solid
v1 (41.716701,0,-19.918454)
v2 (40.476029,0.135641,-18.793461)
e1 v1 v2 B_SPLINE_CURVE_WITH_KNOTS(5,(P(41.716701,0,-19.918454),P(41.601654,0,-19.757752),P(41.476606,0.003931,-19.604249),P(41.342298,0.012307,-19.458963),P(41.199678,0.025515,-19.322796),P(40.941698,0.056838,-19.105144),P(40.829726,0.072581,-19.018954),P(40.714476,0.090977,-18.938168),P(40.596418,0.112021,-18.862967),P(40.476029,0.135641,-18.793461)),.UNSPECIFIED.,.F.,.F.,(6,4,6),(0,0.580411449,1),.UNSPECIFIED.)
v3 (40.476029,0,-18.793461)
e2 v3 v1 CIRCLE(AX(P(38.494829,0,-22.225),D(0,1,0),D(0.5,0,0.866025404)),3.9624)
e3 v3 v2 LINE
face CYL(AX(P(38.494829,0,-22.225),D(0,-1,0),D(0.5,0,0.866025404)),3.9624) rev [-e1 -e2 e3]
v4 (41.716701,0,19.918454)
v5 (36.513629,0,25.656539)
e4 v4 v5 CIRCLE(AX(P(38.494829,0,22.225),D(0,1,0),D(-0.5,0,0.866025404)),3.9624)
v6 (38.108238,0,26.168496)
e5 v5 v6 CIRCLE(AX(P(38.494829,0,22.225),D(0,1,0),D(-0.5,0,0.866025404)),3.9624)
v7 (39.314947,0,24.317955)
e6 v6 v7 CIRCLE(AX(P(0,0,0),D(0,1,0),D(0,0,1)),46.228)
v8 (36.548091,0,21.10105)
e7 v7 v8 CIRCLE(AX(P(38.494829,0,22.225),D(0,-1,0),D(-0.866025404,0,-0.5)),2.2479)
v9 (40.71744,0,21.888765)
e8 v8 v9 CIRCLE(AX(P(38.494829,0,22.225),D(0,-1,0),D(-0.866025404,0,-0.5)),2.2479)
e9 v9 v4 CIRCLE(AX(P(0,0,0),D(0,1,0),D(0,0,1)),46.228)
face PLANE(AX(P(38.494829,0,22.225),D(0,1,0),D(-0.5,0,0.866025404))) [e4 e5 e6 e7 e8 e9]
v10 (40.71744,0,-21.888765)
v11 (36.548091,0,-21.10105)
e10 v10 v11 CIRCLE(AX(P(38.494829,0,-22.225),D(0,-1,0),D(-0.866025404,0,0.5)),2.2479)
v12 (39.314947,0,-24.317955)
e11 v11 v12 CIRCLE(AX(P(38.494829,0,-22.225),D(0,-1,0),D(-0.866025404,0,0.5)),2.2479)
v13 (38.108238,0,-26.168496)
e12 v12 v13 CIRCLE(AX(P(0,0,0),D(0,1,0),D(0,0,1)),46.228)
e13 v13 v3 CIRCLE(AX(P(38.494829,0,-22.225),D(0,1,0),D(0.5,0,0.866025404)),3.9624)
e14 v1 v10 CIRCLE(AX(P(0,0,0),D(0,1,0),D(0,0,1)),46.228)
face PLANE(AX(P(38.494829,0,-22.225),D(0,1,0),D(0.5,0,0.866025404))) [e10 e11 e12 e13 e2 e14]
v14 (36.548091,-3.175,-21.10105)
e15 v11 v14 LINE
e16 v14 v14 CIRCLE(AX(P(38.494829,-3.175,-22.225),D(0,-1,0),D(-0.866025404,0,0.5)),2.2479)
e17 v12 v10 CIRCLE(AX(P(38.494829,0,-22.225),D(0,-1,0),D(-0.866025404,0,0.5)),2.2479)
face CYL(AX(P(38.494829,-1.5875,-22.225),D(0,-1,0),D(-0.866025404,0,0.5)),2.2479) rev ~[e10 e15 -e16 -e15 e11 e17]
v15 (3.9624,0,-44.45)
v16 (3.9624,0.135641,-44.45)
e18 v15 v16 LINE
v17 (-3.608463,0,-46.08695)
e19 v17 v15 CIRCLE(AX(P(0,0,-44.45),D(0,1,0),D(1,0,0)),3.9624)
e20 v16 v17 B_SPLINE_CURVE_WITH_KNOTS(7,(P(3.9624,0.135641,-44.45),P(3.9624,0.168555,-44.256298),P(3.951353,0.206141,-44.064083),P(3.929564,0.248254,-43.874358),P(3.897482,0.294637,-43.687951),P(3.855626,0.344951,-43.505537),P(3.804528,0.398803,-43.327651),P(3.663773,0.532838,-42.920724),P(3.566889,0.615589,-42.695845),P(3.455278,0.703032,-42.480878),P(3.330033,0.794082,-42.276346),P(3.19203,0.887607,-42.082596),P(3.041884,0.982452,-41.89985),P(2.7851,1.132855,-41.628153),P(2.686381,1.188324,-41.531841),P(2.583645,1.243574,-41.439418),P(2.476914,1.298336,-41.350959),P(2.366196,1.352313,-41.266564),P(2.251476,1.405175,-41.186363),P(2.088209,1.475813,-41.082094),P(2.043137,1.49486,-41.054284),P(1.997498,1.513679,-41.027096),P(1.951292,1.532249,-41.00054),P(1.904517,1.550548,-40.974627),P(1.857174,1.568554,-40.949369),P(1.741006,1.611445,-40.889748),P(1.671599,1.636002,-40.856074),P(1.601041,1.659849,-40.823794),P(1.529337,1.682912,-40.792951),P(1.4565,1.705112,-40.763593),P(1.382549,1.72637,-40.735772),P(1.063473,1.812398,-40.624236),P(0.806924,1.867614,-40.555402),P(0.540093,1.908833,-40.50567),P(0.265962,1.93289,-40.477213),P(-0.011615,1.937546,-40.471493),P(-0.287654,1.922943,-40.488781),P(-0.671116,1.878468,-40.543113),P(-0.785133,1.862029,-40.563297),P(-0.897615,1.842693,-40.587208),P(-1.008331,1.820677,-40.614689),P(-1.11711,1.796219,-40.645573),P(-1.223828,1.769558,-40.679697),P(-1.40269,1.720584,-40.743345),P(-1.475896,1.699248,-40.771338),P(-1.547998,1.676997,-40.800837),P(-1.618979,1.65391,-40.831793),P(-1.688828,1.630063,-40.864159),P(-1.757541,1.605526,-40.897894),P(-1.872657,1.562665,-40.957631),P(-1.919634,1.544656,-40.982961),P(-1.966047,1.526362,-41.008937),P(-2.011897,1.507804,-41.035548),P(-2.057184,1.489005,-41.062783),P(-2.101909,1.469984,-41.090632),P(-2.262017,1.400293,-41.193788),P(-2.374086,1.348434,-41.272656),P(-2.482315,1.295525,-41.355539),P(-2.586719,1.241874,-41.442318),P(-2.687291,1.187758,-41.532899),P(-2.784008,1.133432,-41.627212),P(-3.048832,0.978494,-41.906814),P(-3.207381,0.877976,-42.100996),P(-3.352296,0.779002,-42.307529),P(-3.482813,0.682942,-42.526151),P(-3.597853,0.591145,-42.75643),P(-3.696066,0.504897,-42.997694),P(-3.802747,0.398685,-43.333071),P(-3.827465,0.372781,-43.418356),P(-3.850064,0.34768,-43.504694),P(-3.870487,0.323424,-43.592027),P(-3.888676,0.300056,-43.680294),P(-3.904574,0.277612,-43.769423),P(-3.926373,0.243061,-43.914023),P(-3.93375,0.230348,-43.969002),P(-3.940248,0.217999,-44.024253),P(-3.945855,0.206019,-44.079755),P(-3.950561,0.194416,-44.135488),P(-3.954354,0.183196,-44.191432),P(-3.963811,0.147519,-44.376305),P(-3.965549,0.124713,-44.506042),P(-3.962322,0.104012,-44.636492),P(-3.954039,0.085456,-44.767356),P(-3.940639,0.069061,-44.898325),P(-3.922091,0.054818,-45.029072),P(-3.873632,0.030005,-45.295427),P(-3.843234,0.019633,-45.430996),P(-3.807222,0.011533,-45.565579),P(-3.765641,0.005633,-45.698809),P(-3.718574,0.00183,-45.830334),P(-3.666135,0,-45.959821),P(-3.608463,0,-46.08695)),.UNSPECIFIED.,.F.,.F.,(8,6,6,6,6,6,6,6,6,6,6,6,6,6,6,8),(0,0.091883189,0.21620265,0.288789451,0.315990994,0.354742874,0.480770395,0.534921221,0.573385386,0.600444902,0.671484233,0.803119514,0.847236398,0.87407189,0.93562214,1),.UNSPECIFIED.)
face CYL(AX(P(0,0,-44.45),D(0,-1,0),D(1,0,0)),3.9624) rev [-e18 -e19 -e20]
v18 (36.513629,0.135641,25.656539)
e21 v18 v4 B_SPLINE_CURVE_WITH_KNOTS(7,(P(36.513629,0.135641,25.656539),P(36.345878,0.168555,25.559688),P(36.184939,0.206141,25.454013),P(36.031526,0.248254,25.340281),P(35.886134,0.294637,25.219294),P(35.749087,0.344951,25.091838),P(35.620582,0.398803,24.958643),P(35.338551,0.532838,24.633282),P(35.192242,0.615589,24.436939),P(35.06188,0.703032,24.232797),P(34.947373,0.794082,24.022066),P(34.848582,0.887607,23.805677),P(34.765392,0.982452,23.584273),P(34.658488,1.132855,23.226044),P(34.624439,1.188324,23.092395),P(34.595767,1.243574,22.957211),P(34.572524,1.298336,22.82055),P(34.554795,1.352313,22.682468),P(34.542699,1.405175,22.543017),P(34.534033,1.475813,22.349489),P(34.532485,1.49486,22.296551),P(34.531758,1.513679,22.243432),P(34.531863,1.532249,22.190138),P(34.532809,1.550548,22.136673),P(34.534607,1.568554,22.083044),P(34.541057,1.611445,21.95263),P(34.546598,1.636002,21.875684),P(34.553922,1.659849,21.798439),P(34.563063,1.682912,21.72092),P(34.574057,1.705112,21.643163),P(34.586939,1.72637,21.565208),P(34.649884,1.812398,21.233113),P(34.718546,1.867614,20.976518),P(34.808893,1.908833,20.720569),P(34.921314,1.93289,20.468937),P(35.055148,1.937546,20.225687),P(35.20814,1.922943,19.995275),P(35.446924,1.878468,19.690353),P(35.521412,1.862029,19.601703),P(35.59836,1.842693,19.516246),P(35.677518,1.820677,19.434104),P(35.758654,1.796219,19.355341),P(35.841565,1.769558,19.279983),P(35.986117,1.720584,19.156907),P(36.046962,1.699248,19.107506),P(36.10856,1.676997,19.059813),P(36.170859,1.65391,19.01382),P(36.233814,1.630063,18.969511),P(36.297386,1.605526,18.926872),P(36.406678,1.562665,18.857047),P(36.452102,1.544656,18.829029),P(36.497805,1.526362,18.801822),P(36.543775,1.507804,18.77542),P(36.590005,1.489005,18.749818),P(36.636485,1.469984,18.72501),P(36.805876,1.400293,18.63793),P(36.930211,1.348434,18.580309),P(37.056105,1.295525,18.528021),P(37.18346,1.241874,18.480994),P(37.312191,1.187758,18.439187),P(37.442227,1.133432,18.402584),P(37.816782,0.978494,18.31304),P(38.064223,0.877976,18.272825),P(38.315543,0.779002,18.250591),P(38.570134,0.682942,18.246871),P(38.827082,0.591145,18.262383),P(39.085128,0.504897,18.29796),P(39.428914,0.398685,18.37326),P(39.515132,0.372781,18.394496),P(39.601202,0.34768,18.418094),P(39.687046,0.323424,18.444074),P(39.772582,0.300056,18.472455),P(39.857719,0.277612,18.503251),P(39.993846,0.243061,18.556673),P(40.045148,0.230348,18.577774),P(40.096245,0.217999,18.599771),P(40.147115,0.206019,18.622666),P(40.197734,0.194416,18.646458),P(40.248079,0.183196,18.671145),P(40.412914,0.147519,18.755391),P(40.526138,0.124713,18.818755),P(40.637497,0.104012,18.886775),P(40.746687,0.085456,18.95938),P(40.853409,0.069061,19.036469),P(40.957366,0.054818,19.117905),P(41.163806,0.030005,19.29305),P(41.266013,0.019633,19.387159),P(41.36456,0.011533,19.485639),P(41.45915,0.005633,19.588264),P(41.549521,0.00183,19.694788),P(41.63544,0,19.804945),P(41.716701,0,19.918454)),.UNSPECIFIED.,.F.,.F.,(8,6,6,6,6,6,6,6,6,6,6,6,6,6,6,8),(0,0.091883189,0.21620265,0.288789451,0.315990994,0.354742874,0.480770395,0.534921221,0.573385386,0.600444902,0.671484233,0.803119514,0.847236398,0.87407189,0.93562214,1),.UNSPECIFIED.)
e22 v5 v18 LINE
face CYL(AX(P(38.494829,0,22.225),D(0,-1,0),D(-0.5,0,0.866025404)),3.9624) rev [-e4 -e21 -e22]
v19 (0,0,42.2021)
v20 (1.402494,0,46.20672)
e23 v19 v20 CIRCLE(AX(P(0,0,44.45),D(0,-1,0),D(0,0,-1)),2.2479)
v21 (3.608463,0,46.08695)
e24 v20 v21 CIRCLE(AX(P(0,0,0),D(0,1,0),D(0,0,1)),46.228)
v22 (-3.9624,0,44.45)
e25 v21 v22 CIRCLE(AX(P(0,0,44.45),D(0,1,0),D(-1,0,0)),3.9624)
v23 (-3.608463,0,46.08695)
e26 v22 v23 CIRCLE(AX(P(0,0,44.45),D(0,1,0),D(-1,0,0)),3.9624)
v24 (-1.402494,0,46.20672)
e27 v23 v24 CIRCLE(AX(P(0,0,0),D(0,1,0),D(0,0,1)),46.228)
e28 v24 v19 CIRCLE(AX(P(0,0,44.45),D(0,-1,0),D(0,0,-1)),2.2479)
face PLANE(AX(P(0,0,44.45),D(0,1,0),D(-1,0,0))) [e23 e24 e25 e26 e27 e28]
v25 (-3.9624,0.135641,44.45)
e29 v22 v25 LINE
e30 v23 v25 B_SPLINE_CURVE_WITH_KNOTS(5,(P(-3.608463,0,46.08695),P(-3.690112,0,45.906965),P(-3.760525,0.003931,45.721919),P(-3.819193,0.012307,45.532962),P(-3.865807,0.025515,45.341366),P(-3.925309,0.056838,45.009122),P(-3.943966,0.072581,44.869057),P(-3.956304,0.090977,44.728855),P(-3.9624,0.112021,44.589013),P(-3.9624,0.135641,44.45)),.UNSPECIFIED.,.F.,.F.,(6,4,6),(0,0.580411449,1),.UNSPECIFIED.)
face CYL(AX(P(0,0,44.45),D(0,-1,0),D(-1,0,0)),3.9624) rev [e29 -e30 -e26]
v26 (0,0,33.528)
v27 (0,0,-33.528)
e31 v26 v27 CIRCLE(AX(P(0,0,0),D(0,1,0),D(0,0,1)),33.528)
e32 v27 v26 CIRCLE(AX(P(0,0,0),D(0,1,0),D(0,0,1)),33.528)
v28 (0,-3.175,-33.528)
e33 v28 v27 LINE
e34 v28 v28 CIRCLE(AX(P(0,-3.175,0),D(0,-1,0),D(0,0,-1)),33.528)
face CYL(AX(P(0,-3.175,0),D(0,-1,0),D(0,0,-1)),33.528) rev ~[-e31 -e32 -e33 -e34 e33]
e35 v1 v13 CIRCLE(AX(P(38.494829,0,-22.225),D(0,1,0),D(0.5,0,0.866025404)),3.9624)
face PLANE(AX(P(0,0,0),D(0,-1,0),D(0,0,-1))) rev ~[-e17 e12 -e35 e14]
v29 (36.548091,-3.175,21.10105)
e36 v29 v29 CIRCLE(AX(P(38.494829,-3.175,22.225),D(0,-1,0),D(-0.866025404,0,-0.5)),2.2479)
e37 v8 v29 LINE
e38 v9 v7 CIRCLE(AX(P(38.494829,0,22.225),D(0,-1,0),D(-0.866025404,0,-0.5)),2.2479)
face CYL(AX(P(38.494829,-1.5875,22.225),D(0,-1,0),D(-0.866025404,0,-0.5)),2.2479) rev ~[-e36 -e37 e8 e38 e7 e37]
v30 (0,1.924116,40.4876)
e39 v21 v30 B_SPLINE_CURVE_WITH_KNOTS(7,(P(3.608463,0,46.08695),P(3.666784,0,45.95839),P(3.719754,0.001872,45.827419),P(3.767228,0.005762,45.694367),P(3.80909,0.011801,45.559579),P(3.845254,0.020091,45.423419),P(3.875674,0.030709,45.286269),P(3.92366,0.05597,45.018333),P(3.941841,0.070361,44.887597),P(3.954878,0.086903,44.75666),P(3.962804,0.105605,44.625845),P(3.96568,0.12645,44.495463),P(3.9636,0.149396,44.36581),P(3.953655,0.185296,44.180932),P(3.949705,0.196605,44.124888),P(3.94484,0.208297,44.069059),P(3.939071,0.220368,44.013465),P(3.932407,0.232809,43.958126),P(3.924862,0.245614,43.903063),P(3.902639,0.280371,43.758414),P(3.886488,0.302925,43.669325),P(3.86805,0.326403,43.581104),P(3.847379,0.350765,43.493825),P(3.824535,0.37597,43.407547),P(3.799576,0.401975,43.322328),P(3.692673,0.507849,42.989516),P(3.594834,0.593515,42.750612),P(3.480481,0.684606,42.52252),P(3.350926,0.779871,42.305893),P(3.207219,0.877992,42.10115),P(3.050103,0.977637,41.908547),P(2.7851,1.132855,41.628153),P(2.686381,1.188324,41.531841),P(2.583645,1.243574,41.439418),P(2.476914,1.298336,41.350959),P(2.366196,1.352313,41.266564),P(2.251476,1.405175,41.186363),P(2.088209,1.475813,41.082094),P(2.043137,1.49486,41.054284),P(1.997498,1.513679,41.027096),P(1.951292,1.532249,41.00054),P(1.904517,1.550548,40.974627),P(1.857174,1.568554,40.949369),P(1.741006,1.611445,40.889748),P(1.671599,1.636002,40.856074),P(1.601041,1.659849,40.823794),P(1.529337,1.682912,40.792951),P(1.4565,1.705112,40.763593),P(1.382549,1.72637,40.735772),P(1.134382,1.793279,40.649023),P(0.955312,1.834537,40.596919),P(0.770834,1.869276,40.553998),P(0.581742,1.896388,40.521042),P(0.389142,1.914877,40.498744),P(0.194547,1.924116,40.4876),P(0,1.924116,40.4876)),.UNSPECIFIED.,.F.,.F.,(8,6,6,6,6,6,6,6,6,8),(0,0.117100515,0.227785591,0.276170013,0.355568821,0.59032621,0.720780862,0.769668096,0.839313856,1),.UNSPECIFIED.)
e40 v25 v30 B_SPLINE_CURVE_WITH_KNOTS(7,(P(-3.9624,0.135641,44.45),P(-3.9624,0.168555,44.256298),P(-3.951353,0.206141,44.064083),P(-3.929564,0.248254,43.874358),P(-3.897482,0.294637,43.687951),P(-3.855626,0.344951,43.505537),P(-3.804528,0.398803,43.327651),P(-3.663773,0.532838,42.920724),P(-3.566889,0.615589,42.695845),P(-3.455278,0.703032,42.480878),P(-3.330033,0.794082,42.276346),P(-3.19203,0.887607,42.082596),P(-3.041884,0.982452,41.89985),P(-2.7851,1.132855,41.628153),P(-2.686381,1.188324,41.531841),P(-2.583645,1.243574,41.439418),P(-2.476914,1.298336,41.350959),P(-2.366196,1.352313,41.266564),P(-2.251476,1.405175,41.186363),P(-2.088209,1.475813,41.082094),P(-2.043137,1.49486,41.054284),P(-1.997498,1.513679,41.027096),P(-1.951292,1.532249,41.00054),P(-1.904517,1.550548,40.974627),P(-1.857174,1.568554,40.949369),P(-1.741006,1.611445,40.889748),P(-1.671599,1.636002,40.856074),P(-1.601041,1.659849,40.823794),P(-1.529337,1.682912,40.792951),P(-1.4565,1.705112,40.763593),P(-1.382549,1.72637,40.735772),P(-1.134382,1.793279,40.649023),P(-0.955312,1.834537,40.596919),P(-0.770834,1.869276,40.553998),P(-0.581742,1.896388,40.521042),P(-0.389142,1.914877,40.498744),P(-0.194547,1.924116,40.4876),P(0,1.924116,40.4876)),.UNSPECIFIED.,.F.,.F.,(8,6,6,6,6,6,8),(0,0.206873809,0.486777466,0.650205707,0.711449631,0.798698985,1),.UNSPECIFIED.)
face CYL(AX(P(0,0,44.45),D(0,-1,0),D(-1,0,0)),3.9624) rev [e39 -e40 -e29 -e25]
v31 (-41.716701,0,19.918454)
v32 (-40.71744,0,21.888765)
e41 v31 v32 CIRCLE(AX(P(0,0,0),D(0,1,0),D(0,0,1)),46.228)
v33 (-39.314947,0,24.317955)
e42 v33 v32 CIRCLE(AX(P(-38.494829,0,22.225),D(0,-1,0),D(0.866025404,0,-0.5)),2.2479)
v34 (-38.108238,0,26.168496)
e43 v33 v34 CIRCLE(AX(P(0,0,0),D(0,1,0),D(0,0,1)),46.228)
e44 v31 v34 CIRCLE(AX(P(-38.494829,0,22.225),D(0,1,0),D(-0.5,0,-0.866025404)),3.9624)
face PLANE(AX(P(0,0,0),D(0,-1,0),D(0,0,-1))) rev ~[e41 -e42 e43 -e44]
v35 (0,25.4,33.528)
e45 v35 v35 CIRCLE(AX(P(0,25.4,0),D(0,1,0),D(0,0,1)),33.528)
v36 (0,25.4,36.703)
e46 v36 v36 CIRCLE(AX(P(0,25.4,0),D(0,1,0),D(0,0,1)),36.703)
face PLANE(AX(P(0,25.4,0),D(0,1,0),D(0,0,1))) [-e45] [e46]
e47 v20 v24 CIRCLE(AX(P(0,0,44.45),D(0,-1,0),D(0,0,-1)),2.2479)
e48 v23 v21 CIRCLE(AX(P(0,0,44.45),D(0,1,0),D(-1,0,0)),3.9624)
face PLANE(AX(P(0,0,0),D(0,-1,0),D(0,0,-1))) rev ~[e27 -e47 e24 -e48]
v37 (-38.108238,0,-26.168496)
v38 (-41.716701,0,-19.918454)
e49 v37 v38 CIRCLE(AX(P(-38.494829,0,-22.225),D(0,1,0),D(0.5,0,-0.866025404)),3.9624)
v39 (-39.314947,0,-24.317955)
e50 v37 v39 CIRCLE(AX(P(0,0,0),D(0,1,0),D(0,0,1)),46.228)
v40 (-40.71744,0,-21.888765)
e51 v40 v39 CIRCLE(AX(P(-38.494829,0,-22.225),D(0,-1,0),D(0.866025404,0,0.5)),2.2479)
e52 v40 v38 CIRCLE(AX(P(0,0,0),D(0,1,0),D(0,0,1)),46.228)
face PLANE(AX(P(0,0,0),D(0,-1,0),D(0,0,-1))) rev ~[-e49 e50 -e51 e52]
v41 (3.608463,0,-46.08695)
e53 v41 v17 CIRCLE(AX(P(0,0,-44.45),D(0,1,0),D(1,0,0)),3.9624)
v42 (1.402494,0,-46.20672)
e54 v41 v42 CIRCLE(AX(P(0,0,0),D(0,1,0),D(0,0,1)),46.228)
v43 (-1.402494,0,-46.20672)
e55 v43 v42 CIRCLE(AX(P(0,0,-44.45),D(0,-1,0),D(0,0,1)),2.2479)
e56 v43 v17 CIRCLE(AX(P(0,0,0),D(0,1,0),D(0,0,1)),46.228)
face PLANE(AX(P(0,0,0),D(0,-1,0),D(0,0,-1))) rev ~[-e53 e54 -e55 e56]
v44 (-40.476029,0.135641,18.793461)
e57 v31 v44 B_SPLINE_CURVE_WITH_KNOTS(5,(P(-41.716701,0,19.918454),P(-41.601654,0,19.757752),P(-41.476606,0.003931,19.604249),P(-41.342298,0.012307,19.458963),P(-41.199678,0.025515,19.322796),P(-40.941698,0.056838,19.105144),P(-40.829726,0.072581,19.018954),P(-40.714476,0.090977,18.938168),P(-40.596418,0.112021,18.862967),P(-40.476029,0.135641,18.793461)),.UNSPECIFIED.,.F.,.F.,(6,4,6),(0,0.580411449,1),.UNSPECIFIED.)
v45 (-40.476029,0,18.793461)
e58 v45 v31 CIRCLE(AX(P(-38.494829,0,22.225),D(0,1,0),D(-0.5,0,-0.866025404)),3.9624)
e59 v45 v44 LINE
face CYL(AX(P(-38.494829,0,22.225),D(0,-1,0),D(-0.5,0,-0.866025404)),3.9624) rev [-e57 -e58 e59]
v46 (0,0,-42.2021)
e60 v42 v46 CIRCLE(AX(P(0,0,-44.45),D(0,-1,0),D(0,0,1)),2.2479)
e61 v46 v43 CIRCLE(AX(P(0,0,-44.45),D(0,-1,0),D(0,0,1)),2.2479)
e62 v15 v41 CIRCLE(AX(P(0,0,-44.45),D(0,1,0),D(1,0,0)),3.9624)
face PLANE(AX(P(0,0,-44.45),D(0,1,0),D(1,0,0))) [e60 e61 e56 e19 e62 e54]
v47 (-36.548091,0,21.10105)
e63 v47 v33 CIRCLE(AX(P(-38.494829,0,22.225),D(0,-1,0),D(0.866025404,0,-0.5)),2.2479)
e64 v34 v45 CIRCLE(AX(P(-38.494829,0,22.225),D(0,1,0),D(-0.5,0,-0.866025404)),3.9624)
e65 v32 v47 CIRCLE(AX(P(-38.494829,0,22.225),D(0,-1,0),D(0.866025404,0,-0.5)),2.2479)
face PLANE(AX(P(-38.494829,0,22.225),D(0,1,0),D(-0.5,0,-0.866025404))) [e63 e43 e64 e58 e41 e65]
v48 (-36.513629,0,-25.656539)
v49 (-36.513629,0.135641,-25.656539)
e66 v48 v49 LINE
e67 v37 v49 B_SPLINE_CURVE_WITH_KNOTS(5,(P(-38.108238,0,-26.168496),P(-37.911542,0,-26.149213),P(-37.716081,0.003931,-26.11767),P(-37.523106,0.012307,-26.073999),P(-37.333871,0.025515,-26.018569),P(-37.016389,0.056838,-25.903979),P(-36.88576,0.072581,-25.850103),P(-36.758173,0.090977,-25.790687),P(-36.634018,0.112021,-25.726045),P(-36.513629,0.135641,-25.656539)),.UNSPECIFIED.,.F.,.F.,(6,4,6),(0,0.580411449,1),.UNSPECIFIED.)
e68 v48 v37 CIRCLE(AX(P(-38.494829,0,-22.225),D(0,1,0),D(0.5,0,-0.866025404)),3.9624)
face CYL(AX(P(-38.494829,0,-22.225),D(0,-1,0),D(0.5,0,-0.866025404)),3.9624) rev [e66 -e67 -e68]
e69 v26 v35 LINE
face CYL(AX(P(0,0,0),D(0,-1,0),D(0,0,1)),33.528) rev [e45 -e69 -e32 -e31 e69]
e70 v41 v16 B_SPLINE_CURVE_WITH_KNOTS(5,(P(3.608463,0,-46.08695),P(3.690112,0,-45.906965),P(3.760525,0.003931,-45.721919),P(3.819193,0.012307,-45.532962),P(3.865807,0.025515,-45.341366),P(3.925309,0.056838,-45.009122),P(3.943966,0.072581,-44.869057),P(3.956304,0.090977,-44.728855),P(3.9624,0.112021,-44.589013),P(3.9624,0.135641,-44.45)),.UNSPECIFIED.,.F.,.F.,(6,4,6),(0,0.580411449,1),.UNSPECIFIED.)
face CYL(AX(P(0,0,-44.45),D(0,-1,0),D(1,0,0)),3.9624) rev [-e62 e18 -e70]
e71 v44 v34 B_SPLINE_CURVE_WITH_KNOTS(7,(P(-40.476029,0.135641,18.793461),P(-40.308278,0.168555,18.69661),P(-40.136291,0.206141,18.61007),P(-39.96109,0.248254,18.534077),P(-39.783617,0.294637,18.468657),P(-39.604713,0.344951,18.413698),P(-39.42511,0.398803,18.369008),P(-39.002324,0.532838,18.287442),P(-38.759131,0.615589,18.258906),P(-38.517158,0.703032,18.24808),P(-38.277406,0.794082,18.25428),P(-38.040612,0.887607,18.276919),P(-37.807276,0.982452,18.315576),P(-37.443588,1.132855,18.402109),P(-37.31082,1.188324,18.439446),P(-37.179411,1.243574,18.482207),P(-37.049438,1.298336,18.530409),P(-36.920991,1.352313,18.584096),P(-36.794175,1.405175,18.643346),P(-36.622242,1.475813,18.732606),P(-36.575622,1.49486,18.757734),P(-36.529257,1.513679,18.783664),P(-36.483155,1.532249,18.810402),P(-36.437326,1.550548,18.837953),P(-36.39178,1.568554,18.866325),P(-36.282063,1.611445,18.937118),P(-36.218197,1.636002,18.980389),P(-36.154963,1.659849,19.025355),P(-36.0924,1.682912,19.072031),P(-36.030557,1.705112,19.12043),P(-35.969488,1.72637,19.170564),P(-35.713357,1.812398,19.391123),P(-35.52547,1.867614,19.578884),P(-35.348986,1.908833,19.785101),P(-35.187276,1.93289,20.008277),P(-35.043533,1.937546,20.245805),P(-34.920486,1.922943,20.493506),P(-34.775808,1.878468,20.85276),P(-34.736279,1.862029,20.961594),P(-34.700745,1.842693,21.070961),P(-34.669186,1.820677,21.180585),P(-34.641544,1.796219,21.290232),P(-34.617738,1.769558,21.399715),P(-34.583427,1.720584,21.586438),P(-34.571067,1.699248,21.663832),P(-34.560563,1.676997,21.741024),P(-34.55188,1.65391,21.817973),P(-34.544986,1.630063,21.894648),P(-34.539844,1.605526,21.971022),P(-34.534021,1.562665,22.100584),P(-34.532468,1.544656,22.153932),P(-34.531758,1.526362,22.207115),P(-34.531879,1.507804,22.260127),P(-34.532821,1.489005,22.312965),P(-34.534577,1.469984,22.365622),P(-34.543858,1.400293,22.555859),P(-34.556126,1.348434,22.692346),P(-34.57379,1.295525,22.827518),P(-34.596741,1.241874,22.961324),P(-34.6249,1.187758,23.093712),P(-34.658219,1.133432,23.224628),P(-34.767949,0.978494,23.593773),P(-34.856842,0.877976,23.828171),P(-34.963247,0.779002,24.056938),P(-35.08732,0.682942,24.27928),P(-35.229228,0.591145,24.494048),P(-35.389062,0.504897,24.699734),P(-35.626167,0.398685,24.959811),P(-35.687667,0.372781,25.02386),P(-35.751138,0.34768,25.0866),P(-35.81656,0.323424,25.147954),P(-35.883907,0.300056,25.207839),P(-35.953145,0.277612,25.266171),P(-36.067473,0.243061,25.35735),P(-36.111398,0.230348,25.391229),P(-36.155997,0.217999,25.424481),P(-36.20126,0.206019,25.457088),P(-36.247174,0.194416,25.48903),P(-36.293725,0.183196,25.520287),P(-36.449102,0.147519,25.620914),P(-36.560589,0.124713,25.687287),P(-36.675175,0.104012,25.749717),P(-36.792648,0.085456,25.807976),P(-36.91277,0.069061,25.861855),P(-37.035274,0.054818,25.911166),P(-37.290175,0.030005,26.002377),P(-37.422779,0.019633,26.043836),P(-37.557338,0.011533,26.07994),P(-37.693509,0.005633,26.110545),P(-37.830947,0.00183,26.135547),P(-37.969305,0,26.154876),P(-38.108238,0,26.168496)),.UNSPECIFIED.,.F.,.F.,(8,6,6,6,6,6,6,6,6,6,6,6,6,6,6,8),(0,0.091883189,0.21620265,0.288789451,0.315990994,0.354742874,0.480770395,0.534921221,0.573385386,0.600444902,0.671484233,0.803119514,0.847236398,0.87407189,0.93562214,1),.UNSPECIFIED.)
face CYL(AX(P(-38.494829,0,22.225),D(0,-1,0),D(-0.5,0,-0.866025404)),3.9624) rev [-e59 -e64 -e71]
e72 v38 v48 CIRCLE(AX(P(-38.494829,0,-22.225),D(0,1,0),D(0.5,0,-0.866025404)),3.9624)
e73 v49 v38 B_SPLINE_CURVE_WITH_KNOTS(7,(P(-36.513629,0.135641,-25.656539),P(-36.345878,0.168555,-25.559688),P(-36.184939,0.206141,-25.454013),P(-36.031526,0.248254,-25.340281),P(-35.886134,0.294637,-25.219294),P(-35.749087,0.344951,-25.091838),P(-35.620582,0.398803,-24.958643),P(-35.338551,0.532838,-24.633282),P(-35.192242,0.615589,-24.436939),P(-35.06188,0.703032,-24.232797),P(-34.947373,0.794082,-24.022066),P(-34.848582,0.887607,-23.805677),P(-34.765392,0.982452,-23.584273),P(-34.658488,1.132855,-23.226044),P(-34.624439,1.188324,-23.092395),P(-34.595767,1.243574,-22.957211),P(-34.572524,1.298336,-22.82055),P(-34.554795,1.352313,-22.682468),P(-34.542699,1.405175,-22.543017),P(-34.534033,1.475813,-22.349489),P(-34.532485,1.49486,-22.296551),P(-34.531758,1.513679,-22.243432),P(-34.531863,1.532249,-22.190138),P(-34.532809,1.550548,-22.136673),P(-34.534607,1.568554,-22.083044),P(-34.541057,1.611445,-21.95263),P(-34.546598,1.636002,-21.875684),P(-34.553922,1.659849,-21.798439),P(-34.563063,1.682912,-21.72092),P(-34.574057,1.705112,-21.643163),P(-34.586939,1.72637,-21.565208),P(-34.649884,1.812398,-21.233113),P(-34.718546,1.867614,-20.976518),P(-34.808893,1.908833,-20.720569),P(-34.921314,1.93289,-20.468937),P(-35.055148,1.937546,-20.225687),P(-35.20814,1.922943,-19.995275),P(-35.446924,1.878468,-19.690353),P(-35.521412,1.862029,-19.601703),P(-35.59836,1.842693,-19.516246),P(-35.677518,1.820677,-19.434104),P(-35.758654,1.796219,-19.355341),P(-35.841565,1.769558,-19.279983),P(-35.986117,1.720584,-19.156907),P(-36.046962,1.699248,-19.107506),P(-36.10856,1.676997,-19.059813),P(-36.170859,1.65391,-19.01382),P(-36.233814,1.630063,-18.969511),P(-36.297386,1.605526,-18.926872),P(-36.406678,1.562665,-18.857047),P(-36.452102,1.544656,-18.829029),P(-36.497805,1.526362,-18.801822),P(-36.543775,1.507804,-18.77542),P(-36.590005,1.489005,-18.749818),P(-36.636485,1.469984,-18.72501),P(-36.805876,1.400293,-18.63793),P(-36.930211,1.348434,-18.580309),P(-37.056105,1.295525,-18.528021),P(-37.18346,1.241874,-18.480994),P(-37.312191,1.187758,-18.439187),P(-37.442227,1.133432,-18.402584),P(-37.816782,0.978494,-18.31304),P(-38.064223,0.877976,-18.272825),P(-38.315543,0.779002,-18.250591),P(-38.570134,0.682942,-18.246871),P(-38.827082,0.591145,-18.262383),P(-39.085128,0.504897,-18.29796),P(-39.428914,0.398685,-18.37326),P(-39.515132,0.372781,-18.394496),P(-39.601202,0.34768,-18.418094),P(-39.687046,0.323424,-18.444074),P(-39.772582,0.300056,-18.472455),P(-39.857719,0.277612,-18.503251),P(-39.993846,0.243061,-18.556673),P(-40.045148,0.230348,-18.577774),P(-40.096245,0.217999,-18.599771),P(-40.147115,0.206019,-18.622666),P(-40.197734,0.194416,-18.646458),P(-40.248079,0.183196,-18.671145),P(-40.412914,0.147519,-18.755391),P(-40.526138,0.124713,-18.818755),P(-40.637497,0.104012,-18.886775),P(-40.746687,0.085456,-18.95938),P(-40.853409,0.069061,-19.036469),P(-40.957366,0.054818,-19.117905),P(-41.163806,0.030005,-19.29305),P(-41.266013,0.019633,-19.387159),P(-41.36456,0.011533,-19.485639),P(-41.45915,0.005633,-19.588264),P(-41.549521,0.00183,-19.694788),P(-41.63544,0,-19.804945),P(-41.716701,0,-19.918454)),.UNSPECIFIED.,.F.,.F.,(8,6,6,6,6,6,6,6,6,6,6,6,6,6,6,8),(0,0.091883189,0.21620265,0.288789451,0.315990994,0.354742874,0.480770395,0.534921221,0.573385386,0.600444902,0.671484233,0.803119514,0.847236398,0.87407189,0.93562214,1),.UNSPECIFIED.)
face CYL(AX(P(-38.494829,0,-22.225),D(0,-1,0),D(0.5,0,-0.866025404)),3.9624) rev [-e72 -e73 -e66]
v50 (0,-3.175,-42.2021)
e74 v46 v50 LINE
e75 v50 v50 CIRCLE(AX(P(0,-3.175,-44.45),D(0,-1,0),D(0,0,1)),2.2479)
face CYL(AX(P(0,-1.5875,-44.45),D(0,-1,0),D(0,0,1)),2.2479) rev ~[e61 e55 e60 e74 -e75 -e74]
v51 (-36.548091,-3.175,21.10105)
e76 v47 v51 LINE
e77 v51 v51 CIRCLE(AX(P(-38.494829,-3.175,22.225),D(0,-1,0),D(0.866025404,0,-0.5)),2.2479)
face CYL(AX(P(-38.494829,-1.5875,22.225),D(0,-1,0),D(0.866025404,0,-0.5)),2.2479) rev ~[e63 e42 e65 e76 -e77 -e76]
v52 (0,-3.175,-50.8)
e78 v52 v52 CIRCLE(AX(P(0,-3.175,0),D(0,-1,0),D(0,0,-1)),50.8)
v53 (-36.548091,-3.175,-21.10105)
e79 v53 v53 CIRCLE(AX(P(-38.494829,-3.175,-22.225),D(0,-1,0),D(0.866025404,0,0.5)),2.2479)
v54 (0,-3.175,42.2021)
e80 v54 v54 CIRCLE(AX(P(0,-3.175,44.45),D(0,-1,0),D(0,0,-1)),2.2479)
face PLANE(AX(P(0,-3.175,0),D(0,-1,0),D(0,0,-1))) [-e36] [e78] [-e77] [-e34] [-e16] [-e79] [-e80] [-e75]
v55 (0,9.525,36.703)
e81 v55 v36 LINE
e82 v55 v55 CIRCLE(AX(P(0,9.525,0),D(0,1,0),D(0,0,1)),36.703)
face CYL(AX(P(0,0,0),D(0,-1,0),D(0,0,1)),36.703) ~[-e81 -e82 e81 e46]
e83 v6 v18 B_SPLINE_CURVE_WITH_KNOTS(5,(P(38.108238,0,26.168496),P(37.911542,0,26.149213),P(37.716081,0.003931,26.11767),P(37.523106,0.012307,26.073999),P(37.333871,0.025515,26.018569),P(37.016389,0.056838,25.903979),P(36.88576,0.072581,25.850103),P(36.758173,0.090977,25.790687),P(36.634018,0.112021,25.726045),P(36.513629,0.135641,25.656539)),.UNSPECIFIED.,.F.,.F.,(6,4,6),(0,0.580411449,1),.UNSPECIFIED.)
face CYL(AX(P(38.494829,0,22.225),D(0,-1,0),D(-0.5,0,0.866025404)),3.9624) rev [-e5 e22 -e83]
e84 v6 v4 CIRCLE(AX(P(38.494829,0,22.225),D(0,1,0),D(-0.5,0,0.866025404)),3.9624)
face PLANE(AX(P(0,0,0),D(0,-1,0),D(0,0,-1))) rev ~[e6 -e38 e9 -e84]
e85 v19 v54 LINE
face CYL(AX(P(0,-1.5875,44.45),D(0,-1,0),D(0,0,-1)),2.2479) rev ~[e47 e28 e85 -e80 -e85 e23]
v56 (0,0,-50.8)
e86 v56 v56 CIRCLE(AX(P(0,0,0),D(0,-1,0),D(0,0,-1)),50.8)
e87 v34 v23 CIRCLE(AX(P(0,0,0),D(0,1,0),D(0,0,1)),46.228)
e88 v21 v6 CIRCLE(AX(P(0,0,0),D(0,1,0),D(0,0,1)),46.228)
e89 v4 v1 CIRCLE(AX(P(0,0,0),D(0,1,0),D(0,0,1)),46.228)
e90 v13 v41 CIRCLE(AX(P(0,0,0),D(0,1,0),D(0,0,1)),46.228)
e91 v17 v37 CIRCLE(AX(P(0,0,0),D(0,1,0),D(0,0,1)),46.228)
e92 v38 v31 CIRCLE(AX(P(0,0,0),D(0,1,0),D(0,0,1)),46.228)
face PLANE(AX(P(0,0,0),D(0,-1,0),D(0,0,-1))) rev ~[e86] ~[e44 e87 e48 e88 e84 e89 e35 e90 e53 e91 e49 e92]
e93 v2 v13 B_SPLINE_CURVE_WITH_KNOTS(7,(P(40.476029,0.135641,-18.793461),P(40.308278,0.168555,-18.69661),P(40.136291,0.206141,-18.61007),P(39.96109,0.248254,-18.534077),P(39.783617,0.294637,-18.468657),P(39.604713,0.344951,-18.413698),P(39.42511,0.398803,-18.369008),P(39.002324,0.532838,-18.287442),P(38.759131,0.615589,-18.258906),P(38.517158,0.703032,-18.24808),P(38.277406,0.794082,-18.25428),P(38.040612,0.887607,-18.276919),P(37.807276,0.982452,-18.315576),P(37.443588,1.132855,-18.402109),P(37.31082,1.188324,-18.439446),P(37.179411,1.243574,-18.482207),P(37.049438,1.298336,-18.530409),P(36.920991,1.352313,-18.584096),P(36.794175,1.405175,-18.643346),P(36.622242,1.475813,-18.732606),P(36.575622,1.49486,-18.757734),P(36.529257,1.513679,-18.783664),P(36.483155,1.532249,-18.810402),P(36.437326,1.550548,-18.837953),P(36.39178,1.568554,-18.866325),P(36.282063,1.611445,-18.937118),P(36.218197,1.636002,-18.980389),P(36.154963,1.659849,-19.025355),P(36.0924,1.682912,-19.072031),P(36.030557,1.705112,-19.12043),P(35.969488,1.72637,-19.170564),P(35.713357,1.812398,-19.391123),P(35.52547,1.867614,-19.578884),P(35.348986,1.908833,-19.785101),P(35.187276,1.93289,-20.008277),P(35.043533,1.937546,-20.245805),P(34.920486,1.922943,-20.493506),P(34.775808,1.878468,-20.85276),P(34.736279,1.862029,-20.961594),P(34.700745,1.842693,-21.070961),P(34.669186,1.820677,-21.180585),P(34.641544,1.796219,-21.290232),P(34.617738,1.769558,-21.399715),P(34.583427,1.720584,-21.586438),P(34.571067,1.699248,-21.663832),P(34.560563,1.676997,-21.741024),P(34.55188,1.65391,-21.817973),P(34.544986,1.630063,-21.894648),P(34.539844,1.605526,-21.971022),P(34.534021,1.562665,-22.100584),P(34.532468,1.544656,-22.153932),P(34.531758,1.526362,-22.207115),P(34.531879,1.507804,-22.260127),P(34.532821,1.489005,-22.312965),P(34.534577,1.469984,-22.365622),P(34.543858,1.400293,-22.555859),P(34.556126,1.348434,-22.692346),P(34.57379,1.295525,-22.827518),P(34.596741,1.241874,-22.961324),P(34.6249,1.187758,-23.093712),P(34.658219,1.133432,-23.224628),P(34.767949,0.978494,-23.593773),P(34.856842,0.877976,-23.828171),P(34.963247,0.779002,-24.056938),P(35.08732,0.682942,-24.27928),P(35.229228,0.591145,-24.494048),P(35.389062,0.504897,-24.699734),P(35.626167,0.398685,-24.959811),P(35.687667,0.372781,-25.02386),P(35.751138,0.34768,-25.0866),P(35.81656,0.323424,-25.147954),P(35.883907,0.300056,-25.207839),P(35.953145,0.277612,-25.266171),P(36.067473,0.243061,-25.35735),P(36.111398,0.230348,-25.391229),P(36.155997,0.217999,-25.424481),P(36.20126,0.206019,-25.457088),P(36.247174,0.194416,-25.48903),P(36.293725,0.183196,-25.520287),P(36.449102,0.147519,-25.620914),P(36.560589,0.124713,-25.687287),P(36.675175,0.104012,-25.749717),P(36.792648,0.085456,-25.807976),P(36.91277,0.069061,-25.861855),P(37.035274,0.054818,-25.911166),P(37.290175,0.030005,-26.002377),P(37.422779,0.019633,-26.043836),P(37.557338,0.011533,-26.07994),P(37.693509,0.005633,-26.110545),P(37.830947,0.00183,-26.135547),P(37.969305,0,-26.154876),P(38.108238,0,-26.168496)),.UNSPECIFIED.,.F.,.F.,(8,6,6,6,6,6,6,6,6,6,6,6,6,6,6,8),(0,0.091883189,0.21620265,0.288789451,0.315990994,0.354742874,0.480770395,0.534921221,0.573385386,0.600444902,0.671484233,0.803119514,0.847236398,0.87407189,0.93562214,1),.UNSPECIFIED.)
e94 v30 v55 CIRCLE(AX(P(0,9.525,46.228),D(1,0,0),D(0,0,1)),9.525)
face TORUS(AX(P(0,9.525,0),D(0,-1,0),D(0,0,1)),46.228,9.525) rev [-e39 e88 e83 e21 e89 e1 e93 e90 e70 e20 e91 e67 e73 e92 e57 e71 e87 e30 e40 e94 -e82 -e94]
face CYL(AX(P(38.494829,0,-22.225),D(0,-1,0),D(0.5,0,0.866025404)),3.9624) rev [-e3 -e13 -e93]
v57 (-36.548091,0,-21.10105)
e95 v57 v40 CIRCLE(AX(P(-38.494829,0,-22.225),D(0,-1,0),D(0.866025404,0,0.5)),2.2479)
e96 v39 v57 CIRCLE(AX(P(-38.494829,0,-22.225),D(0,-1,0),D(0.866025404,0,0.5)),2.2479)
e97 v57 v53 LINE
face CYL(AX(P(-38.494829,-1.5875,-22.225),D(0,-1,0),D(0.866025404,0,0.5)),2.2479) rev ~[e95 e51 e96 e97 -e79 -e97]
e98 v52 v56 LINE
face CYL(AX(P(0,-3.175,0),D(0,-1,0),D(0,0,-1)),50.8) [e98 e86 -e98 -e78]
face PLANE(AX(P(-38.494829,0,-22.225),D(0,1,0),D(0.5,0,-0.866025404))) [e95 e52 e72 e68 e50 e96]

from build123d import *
from build123d.topology import SkipClean

# Parameters (mm, degrees)
SKETCH1_R           = 36.703
SKETCH1_R_2         = 33.528
BOSS_EXTRUDE1_DEPTH = 25.4
BOSS_EXTRUDE2_START = 3.175
SKETCH2_R           = 50.8
SKETCH2_R_2         = 33.528
BOSS_EXTRUDE2_DEPTH = 3.175
FILLET1_R           = 9.525
SKETCH5_W           = 2.2479
SKETCH5_H           = 3.175
CIRPATTERN1_COUNT   = 6
SKETCH6_R           = 3.9624
CUT_EXTRUDE1_DEPTH  = 52.07
CIRPATTERN2_COUNT   = 6


with BuildPart() as part:
    # Sketch1 → Boss-Extrude1 (new body)
    with BuildSketch(Plane(origin=(0, 0, 0), x_dir=(1, 0, 0), z_dir=(0, 1, 0))):
        with Locations(Location((0, 0, 0), (0, 0, 270))):
            Circle(SKETCH1_R)
        with Locations(Location((0, 0, 0), (0, 0, 270))):
            Circle(SKETCH1_R_2, mode=Mode.SUBTRACT)
    extrude(amount=BOSS_EXTRUDE1_DEPTH)

    # Sketch2 → Boss-Extrude2 (add)
    with SkipClean():  # the faces are left unmerged after this step: merging them gives an invalid solid
        with BuildSketch(Plane.XZ.offset(BOSS_EXTRUDE2_START)):
            with Locations(Location((0, 0, 0), (0, 0, 270))):
                Circle(SKETCH2_R)
            with Locations(Location((0, 0, 0), (0, 0, 270))):
                Circle(SKETCH2_R_2, mode=Mode.SUBTRACT)
        extrude(amount=-BOSS_EXTRUDE2_DEPTH)

    # Fillet1
    fillet1_edges = [part.edges().sort_by_distance(p)[0] for p in [
        (0, 0, -36.703),
    ]]
    fillet(fillet1_edges, radius=FILLET1_R)

    # Sketch5 → #8 Clearance Hole1 (revolve, cut)
    with SkipClean():  # the faces are left unmerged after this step: merging them gives an invalid solid
        with BuildSketch(Plane(origin=(0, 0, -44.45), x_dir=(0, 0, 1), z_dir=(1, 0, 0))):
            with Locations((1.12395, 1.5875)):
                Rectangle(SKETCH5_W, SKETCH5_H)
        f_8_clearance_hole1 = revolve(axis=Axis((0, 6.35, -44.45), (0, -1, 0)), mode=Mode.SUBTRACT)

    # CirPattern1: #8 Clearance Hole1 ×6 about axis
    with SkipClean():  # the faces are left unmerged after this step: merging them gives an invalid solid
        cirpattern1_axis = Axis((0, 0, 0), (0, 1, 0))
        for i in range(1, CIRPATTERN1_COUNT):
            add(f_8_clearance_hole1.rotate(cirpattern1_axis, i * 360 / CIRPATTERN1_COUNT), mode=Mode.SUBTRACT)

    # Sketch6 → Cut-Extrude1 (cut)
    with SkipClean():  # the faces are left unmerged after this step: merging them gives an invalid solid
        with BuildSketch(Plane(origin=(0, 0, 0), x_dir=(1, 0, 0), z_dir=(0, 1, 0))):
            with Locations((0, 44.45)):
                Circle(SKETCH6_R)
        cut_extrude1 = extrude(amount=CUT_EXTRUDE1_DEPTH, mode=Mode.SUBTRACT)

    # CirPattern2: Cut-Extrude1 ×6 about axis
    with SkipClean():  # the faces are left unmerged after this step: merging them gives an invalid solid
        cirpattern2_axis = Axis((0, 0, 0), (0, 1, 0))
        for i in range(1, CIRPATTERN2_COUNT):
            add(cut_extrude1.rotate(cirpattern2_axis, i * 360 / CIRPATTERN2_COUNT), mode=Mode.SUBTRACT)


solid = part.part
